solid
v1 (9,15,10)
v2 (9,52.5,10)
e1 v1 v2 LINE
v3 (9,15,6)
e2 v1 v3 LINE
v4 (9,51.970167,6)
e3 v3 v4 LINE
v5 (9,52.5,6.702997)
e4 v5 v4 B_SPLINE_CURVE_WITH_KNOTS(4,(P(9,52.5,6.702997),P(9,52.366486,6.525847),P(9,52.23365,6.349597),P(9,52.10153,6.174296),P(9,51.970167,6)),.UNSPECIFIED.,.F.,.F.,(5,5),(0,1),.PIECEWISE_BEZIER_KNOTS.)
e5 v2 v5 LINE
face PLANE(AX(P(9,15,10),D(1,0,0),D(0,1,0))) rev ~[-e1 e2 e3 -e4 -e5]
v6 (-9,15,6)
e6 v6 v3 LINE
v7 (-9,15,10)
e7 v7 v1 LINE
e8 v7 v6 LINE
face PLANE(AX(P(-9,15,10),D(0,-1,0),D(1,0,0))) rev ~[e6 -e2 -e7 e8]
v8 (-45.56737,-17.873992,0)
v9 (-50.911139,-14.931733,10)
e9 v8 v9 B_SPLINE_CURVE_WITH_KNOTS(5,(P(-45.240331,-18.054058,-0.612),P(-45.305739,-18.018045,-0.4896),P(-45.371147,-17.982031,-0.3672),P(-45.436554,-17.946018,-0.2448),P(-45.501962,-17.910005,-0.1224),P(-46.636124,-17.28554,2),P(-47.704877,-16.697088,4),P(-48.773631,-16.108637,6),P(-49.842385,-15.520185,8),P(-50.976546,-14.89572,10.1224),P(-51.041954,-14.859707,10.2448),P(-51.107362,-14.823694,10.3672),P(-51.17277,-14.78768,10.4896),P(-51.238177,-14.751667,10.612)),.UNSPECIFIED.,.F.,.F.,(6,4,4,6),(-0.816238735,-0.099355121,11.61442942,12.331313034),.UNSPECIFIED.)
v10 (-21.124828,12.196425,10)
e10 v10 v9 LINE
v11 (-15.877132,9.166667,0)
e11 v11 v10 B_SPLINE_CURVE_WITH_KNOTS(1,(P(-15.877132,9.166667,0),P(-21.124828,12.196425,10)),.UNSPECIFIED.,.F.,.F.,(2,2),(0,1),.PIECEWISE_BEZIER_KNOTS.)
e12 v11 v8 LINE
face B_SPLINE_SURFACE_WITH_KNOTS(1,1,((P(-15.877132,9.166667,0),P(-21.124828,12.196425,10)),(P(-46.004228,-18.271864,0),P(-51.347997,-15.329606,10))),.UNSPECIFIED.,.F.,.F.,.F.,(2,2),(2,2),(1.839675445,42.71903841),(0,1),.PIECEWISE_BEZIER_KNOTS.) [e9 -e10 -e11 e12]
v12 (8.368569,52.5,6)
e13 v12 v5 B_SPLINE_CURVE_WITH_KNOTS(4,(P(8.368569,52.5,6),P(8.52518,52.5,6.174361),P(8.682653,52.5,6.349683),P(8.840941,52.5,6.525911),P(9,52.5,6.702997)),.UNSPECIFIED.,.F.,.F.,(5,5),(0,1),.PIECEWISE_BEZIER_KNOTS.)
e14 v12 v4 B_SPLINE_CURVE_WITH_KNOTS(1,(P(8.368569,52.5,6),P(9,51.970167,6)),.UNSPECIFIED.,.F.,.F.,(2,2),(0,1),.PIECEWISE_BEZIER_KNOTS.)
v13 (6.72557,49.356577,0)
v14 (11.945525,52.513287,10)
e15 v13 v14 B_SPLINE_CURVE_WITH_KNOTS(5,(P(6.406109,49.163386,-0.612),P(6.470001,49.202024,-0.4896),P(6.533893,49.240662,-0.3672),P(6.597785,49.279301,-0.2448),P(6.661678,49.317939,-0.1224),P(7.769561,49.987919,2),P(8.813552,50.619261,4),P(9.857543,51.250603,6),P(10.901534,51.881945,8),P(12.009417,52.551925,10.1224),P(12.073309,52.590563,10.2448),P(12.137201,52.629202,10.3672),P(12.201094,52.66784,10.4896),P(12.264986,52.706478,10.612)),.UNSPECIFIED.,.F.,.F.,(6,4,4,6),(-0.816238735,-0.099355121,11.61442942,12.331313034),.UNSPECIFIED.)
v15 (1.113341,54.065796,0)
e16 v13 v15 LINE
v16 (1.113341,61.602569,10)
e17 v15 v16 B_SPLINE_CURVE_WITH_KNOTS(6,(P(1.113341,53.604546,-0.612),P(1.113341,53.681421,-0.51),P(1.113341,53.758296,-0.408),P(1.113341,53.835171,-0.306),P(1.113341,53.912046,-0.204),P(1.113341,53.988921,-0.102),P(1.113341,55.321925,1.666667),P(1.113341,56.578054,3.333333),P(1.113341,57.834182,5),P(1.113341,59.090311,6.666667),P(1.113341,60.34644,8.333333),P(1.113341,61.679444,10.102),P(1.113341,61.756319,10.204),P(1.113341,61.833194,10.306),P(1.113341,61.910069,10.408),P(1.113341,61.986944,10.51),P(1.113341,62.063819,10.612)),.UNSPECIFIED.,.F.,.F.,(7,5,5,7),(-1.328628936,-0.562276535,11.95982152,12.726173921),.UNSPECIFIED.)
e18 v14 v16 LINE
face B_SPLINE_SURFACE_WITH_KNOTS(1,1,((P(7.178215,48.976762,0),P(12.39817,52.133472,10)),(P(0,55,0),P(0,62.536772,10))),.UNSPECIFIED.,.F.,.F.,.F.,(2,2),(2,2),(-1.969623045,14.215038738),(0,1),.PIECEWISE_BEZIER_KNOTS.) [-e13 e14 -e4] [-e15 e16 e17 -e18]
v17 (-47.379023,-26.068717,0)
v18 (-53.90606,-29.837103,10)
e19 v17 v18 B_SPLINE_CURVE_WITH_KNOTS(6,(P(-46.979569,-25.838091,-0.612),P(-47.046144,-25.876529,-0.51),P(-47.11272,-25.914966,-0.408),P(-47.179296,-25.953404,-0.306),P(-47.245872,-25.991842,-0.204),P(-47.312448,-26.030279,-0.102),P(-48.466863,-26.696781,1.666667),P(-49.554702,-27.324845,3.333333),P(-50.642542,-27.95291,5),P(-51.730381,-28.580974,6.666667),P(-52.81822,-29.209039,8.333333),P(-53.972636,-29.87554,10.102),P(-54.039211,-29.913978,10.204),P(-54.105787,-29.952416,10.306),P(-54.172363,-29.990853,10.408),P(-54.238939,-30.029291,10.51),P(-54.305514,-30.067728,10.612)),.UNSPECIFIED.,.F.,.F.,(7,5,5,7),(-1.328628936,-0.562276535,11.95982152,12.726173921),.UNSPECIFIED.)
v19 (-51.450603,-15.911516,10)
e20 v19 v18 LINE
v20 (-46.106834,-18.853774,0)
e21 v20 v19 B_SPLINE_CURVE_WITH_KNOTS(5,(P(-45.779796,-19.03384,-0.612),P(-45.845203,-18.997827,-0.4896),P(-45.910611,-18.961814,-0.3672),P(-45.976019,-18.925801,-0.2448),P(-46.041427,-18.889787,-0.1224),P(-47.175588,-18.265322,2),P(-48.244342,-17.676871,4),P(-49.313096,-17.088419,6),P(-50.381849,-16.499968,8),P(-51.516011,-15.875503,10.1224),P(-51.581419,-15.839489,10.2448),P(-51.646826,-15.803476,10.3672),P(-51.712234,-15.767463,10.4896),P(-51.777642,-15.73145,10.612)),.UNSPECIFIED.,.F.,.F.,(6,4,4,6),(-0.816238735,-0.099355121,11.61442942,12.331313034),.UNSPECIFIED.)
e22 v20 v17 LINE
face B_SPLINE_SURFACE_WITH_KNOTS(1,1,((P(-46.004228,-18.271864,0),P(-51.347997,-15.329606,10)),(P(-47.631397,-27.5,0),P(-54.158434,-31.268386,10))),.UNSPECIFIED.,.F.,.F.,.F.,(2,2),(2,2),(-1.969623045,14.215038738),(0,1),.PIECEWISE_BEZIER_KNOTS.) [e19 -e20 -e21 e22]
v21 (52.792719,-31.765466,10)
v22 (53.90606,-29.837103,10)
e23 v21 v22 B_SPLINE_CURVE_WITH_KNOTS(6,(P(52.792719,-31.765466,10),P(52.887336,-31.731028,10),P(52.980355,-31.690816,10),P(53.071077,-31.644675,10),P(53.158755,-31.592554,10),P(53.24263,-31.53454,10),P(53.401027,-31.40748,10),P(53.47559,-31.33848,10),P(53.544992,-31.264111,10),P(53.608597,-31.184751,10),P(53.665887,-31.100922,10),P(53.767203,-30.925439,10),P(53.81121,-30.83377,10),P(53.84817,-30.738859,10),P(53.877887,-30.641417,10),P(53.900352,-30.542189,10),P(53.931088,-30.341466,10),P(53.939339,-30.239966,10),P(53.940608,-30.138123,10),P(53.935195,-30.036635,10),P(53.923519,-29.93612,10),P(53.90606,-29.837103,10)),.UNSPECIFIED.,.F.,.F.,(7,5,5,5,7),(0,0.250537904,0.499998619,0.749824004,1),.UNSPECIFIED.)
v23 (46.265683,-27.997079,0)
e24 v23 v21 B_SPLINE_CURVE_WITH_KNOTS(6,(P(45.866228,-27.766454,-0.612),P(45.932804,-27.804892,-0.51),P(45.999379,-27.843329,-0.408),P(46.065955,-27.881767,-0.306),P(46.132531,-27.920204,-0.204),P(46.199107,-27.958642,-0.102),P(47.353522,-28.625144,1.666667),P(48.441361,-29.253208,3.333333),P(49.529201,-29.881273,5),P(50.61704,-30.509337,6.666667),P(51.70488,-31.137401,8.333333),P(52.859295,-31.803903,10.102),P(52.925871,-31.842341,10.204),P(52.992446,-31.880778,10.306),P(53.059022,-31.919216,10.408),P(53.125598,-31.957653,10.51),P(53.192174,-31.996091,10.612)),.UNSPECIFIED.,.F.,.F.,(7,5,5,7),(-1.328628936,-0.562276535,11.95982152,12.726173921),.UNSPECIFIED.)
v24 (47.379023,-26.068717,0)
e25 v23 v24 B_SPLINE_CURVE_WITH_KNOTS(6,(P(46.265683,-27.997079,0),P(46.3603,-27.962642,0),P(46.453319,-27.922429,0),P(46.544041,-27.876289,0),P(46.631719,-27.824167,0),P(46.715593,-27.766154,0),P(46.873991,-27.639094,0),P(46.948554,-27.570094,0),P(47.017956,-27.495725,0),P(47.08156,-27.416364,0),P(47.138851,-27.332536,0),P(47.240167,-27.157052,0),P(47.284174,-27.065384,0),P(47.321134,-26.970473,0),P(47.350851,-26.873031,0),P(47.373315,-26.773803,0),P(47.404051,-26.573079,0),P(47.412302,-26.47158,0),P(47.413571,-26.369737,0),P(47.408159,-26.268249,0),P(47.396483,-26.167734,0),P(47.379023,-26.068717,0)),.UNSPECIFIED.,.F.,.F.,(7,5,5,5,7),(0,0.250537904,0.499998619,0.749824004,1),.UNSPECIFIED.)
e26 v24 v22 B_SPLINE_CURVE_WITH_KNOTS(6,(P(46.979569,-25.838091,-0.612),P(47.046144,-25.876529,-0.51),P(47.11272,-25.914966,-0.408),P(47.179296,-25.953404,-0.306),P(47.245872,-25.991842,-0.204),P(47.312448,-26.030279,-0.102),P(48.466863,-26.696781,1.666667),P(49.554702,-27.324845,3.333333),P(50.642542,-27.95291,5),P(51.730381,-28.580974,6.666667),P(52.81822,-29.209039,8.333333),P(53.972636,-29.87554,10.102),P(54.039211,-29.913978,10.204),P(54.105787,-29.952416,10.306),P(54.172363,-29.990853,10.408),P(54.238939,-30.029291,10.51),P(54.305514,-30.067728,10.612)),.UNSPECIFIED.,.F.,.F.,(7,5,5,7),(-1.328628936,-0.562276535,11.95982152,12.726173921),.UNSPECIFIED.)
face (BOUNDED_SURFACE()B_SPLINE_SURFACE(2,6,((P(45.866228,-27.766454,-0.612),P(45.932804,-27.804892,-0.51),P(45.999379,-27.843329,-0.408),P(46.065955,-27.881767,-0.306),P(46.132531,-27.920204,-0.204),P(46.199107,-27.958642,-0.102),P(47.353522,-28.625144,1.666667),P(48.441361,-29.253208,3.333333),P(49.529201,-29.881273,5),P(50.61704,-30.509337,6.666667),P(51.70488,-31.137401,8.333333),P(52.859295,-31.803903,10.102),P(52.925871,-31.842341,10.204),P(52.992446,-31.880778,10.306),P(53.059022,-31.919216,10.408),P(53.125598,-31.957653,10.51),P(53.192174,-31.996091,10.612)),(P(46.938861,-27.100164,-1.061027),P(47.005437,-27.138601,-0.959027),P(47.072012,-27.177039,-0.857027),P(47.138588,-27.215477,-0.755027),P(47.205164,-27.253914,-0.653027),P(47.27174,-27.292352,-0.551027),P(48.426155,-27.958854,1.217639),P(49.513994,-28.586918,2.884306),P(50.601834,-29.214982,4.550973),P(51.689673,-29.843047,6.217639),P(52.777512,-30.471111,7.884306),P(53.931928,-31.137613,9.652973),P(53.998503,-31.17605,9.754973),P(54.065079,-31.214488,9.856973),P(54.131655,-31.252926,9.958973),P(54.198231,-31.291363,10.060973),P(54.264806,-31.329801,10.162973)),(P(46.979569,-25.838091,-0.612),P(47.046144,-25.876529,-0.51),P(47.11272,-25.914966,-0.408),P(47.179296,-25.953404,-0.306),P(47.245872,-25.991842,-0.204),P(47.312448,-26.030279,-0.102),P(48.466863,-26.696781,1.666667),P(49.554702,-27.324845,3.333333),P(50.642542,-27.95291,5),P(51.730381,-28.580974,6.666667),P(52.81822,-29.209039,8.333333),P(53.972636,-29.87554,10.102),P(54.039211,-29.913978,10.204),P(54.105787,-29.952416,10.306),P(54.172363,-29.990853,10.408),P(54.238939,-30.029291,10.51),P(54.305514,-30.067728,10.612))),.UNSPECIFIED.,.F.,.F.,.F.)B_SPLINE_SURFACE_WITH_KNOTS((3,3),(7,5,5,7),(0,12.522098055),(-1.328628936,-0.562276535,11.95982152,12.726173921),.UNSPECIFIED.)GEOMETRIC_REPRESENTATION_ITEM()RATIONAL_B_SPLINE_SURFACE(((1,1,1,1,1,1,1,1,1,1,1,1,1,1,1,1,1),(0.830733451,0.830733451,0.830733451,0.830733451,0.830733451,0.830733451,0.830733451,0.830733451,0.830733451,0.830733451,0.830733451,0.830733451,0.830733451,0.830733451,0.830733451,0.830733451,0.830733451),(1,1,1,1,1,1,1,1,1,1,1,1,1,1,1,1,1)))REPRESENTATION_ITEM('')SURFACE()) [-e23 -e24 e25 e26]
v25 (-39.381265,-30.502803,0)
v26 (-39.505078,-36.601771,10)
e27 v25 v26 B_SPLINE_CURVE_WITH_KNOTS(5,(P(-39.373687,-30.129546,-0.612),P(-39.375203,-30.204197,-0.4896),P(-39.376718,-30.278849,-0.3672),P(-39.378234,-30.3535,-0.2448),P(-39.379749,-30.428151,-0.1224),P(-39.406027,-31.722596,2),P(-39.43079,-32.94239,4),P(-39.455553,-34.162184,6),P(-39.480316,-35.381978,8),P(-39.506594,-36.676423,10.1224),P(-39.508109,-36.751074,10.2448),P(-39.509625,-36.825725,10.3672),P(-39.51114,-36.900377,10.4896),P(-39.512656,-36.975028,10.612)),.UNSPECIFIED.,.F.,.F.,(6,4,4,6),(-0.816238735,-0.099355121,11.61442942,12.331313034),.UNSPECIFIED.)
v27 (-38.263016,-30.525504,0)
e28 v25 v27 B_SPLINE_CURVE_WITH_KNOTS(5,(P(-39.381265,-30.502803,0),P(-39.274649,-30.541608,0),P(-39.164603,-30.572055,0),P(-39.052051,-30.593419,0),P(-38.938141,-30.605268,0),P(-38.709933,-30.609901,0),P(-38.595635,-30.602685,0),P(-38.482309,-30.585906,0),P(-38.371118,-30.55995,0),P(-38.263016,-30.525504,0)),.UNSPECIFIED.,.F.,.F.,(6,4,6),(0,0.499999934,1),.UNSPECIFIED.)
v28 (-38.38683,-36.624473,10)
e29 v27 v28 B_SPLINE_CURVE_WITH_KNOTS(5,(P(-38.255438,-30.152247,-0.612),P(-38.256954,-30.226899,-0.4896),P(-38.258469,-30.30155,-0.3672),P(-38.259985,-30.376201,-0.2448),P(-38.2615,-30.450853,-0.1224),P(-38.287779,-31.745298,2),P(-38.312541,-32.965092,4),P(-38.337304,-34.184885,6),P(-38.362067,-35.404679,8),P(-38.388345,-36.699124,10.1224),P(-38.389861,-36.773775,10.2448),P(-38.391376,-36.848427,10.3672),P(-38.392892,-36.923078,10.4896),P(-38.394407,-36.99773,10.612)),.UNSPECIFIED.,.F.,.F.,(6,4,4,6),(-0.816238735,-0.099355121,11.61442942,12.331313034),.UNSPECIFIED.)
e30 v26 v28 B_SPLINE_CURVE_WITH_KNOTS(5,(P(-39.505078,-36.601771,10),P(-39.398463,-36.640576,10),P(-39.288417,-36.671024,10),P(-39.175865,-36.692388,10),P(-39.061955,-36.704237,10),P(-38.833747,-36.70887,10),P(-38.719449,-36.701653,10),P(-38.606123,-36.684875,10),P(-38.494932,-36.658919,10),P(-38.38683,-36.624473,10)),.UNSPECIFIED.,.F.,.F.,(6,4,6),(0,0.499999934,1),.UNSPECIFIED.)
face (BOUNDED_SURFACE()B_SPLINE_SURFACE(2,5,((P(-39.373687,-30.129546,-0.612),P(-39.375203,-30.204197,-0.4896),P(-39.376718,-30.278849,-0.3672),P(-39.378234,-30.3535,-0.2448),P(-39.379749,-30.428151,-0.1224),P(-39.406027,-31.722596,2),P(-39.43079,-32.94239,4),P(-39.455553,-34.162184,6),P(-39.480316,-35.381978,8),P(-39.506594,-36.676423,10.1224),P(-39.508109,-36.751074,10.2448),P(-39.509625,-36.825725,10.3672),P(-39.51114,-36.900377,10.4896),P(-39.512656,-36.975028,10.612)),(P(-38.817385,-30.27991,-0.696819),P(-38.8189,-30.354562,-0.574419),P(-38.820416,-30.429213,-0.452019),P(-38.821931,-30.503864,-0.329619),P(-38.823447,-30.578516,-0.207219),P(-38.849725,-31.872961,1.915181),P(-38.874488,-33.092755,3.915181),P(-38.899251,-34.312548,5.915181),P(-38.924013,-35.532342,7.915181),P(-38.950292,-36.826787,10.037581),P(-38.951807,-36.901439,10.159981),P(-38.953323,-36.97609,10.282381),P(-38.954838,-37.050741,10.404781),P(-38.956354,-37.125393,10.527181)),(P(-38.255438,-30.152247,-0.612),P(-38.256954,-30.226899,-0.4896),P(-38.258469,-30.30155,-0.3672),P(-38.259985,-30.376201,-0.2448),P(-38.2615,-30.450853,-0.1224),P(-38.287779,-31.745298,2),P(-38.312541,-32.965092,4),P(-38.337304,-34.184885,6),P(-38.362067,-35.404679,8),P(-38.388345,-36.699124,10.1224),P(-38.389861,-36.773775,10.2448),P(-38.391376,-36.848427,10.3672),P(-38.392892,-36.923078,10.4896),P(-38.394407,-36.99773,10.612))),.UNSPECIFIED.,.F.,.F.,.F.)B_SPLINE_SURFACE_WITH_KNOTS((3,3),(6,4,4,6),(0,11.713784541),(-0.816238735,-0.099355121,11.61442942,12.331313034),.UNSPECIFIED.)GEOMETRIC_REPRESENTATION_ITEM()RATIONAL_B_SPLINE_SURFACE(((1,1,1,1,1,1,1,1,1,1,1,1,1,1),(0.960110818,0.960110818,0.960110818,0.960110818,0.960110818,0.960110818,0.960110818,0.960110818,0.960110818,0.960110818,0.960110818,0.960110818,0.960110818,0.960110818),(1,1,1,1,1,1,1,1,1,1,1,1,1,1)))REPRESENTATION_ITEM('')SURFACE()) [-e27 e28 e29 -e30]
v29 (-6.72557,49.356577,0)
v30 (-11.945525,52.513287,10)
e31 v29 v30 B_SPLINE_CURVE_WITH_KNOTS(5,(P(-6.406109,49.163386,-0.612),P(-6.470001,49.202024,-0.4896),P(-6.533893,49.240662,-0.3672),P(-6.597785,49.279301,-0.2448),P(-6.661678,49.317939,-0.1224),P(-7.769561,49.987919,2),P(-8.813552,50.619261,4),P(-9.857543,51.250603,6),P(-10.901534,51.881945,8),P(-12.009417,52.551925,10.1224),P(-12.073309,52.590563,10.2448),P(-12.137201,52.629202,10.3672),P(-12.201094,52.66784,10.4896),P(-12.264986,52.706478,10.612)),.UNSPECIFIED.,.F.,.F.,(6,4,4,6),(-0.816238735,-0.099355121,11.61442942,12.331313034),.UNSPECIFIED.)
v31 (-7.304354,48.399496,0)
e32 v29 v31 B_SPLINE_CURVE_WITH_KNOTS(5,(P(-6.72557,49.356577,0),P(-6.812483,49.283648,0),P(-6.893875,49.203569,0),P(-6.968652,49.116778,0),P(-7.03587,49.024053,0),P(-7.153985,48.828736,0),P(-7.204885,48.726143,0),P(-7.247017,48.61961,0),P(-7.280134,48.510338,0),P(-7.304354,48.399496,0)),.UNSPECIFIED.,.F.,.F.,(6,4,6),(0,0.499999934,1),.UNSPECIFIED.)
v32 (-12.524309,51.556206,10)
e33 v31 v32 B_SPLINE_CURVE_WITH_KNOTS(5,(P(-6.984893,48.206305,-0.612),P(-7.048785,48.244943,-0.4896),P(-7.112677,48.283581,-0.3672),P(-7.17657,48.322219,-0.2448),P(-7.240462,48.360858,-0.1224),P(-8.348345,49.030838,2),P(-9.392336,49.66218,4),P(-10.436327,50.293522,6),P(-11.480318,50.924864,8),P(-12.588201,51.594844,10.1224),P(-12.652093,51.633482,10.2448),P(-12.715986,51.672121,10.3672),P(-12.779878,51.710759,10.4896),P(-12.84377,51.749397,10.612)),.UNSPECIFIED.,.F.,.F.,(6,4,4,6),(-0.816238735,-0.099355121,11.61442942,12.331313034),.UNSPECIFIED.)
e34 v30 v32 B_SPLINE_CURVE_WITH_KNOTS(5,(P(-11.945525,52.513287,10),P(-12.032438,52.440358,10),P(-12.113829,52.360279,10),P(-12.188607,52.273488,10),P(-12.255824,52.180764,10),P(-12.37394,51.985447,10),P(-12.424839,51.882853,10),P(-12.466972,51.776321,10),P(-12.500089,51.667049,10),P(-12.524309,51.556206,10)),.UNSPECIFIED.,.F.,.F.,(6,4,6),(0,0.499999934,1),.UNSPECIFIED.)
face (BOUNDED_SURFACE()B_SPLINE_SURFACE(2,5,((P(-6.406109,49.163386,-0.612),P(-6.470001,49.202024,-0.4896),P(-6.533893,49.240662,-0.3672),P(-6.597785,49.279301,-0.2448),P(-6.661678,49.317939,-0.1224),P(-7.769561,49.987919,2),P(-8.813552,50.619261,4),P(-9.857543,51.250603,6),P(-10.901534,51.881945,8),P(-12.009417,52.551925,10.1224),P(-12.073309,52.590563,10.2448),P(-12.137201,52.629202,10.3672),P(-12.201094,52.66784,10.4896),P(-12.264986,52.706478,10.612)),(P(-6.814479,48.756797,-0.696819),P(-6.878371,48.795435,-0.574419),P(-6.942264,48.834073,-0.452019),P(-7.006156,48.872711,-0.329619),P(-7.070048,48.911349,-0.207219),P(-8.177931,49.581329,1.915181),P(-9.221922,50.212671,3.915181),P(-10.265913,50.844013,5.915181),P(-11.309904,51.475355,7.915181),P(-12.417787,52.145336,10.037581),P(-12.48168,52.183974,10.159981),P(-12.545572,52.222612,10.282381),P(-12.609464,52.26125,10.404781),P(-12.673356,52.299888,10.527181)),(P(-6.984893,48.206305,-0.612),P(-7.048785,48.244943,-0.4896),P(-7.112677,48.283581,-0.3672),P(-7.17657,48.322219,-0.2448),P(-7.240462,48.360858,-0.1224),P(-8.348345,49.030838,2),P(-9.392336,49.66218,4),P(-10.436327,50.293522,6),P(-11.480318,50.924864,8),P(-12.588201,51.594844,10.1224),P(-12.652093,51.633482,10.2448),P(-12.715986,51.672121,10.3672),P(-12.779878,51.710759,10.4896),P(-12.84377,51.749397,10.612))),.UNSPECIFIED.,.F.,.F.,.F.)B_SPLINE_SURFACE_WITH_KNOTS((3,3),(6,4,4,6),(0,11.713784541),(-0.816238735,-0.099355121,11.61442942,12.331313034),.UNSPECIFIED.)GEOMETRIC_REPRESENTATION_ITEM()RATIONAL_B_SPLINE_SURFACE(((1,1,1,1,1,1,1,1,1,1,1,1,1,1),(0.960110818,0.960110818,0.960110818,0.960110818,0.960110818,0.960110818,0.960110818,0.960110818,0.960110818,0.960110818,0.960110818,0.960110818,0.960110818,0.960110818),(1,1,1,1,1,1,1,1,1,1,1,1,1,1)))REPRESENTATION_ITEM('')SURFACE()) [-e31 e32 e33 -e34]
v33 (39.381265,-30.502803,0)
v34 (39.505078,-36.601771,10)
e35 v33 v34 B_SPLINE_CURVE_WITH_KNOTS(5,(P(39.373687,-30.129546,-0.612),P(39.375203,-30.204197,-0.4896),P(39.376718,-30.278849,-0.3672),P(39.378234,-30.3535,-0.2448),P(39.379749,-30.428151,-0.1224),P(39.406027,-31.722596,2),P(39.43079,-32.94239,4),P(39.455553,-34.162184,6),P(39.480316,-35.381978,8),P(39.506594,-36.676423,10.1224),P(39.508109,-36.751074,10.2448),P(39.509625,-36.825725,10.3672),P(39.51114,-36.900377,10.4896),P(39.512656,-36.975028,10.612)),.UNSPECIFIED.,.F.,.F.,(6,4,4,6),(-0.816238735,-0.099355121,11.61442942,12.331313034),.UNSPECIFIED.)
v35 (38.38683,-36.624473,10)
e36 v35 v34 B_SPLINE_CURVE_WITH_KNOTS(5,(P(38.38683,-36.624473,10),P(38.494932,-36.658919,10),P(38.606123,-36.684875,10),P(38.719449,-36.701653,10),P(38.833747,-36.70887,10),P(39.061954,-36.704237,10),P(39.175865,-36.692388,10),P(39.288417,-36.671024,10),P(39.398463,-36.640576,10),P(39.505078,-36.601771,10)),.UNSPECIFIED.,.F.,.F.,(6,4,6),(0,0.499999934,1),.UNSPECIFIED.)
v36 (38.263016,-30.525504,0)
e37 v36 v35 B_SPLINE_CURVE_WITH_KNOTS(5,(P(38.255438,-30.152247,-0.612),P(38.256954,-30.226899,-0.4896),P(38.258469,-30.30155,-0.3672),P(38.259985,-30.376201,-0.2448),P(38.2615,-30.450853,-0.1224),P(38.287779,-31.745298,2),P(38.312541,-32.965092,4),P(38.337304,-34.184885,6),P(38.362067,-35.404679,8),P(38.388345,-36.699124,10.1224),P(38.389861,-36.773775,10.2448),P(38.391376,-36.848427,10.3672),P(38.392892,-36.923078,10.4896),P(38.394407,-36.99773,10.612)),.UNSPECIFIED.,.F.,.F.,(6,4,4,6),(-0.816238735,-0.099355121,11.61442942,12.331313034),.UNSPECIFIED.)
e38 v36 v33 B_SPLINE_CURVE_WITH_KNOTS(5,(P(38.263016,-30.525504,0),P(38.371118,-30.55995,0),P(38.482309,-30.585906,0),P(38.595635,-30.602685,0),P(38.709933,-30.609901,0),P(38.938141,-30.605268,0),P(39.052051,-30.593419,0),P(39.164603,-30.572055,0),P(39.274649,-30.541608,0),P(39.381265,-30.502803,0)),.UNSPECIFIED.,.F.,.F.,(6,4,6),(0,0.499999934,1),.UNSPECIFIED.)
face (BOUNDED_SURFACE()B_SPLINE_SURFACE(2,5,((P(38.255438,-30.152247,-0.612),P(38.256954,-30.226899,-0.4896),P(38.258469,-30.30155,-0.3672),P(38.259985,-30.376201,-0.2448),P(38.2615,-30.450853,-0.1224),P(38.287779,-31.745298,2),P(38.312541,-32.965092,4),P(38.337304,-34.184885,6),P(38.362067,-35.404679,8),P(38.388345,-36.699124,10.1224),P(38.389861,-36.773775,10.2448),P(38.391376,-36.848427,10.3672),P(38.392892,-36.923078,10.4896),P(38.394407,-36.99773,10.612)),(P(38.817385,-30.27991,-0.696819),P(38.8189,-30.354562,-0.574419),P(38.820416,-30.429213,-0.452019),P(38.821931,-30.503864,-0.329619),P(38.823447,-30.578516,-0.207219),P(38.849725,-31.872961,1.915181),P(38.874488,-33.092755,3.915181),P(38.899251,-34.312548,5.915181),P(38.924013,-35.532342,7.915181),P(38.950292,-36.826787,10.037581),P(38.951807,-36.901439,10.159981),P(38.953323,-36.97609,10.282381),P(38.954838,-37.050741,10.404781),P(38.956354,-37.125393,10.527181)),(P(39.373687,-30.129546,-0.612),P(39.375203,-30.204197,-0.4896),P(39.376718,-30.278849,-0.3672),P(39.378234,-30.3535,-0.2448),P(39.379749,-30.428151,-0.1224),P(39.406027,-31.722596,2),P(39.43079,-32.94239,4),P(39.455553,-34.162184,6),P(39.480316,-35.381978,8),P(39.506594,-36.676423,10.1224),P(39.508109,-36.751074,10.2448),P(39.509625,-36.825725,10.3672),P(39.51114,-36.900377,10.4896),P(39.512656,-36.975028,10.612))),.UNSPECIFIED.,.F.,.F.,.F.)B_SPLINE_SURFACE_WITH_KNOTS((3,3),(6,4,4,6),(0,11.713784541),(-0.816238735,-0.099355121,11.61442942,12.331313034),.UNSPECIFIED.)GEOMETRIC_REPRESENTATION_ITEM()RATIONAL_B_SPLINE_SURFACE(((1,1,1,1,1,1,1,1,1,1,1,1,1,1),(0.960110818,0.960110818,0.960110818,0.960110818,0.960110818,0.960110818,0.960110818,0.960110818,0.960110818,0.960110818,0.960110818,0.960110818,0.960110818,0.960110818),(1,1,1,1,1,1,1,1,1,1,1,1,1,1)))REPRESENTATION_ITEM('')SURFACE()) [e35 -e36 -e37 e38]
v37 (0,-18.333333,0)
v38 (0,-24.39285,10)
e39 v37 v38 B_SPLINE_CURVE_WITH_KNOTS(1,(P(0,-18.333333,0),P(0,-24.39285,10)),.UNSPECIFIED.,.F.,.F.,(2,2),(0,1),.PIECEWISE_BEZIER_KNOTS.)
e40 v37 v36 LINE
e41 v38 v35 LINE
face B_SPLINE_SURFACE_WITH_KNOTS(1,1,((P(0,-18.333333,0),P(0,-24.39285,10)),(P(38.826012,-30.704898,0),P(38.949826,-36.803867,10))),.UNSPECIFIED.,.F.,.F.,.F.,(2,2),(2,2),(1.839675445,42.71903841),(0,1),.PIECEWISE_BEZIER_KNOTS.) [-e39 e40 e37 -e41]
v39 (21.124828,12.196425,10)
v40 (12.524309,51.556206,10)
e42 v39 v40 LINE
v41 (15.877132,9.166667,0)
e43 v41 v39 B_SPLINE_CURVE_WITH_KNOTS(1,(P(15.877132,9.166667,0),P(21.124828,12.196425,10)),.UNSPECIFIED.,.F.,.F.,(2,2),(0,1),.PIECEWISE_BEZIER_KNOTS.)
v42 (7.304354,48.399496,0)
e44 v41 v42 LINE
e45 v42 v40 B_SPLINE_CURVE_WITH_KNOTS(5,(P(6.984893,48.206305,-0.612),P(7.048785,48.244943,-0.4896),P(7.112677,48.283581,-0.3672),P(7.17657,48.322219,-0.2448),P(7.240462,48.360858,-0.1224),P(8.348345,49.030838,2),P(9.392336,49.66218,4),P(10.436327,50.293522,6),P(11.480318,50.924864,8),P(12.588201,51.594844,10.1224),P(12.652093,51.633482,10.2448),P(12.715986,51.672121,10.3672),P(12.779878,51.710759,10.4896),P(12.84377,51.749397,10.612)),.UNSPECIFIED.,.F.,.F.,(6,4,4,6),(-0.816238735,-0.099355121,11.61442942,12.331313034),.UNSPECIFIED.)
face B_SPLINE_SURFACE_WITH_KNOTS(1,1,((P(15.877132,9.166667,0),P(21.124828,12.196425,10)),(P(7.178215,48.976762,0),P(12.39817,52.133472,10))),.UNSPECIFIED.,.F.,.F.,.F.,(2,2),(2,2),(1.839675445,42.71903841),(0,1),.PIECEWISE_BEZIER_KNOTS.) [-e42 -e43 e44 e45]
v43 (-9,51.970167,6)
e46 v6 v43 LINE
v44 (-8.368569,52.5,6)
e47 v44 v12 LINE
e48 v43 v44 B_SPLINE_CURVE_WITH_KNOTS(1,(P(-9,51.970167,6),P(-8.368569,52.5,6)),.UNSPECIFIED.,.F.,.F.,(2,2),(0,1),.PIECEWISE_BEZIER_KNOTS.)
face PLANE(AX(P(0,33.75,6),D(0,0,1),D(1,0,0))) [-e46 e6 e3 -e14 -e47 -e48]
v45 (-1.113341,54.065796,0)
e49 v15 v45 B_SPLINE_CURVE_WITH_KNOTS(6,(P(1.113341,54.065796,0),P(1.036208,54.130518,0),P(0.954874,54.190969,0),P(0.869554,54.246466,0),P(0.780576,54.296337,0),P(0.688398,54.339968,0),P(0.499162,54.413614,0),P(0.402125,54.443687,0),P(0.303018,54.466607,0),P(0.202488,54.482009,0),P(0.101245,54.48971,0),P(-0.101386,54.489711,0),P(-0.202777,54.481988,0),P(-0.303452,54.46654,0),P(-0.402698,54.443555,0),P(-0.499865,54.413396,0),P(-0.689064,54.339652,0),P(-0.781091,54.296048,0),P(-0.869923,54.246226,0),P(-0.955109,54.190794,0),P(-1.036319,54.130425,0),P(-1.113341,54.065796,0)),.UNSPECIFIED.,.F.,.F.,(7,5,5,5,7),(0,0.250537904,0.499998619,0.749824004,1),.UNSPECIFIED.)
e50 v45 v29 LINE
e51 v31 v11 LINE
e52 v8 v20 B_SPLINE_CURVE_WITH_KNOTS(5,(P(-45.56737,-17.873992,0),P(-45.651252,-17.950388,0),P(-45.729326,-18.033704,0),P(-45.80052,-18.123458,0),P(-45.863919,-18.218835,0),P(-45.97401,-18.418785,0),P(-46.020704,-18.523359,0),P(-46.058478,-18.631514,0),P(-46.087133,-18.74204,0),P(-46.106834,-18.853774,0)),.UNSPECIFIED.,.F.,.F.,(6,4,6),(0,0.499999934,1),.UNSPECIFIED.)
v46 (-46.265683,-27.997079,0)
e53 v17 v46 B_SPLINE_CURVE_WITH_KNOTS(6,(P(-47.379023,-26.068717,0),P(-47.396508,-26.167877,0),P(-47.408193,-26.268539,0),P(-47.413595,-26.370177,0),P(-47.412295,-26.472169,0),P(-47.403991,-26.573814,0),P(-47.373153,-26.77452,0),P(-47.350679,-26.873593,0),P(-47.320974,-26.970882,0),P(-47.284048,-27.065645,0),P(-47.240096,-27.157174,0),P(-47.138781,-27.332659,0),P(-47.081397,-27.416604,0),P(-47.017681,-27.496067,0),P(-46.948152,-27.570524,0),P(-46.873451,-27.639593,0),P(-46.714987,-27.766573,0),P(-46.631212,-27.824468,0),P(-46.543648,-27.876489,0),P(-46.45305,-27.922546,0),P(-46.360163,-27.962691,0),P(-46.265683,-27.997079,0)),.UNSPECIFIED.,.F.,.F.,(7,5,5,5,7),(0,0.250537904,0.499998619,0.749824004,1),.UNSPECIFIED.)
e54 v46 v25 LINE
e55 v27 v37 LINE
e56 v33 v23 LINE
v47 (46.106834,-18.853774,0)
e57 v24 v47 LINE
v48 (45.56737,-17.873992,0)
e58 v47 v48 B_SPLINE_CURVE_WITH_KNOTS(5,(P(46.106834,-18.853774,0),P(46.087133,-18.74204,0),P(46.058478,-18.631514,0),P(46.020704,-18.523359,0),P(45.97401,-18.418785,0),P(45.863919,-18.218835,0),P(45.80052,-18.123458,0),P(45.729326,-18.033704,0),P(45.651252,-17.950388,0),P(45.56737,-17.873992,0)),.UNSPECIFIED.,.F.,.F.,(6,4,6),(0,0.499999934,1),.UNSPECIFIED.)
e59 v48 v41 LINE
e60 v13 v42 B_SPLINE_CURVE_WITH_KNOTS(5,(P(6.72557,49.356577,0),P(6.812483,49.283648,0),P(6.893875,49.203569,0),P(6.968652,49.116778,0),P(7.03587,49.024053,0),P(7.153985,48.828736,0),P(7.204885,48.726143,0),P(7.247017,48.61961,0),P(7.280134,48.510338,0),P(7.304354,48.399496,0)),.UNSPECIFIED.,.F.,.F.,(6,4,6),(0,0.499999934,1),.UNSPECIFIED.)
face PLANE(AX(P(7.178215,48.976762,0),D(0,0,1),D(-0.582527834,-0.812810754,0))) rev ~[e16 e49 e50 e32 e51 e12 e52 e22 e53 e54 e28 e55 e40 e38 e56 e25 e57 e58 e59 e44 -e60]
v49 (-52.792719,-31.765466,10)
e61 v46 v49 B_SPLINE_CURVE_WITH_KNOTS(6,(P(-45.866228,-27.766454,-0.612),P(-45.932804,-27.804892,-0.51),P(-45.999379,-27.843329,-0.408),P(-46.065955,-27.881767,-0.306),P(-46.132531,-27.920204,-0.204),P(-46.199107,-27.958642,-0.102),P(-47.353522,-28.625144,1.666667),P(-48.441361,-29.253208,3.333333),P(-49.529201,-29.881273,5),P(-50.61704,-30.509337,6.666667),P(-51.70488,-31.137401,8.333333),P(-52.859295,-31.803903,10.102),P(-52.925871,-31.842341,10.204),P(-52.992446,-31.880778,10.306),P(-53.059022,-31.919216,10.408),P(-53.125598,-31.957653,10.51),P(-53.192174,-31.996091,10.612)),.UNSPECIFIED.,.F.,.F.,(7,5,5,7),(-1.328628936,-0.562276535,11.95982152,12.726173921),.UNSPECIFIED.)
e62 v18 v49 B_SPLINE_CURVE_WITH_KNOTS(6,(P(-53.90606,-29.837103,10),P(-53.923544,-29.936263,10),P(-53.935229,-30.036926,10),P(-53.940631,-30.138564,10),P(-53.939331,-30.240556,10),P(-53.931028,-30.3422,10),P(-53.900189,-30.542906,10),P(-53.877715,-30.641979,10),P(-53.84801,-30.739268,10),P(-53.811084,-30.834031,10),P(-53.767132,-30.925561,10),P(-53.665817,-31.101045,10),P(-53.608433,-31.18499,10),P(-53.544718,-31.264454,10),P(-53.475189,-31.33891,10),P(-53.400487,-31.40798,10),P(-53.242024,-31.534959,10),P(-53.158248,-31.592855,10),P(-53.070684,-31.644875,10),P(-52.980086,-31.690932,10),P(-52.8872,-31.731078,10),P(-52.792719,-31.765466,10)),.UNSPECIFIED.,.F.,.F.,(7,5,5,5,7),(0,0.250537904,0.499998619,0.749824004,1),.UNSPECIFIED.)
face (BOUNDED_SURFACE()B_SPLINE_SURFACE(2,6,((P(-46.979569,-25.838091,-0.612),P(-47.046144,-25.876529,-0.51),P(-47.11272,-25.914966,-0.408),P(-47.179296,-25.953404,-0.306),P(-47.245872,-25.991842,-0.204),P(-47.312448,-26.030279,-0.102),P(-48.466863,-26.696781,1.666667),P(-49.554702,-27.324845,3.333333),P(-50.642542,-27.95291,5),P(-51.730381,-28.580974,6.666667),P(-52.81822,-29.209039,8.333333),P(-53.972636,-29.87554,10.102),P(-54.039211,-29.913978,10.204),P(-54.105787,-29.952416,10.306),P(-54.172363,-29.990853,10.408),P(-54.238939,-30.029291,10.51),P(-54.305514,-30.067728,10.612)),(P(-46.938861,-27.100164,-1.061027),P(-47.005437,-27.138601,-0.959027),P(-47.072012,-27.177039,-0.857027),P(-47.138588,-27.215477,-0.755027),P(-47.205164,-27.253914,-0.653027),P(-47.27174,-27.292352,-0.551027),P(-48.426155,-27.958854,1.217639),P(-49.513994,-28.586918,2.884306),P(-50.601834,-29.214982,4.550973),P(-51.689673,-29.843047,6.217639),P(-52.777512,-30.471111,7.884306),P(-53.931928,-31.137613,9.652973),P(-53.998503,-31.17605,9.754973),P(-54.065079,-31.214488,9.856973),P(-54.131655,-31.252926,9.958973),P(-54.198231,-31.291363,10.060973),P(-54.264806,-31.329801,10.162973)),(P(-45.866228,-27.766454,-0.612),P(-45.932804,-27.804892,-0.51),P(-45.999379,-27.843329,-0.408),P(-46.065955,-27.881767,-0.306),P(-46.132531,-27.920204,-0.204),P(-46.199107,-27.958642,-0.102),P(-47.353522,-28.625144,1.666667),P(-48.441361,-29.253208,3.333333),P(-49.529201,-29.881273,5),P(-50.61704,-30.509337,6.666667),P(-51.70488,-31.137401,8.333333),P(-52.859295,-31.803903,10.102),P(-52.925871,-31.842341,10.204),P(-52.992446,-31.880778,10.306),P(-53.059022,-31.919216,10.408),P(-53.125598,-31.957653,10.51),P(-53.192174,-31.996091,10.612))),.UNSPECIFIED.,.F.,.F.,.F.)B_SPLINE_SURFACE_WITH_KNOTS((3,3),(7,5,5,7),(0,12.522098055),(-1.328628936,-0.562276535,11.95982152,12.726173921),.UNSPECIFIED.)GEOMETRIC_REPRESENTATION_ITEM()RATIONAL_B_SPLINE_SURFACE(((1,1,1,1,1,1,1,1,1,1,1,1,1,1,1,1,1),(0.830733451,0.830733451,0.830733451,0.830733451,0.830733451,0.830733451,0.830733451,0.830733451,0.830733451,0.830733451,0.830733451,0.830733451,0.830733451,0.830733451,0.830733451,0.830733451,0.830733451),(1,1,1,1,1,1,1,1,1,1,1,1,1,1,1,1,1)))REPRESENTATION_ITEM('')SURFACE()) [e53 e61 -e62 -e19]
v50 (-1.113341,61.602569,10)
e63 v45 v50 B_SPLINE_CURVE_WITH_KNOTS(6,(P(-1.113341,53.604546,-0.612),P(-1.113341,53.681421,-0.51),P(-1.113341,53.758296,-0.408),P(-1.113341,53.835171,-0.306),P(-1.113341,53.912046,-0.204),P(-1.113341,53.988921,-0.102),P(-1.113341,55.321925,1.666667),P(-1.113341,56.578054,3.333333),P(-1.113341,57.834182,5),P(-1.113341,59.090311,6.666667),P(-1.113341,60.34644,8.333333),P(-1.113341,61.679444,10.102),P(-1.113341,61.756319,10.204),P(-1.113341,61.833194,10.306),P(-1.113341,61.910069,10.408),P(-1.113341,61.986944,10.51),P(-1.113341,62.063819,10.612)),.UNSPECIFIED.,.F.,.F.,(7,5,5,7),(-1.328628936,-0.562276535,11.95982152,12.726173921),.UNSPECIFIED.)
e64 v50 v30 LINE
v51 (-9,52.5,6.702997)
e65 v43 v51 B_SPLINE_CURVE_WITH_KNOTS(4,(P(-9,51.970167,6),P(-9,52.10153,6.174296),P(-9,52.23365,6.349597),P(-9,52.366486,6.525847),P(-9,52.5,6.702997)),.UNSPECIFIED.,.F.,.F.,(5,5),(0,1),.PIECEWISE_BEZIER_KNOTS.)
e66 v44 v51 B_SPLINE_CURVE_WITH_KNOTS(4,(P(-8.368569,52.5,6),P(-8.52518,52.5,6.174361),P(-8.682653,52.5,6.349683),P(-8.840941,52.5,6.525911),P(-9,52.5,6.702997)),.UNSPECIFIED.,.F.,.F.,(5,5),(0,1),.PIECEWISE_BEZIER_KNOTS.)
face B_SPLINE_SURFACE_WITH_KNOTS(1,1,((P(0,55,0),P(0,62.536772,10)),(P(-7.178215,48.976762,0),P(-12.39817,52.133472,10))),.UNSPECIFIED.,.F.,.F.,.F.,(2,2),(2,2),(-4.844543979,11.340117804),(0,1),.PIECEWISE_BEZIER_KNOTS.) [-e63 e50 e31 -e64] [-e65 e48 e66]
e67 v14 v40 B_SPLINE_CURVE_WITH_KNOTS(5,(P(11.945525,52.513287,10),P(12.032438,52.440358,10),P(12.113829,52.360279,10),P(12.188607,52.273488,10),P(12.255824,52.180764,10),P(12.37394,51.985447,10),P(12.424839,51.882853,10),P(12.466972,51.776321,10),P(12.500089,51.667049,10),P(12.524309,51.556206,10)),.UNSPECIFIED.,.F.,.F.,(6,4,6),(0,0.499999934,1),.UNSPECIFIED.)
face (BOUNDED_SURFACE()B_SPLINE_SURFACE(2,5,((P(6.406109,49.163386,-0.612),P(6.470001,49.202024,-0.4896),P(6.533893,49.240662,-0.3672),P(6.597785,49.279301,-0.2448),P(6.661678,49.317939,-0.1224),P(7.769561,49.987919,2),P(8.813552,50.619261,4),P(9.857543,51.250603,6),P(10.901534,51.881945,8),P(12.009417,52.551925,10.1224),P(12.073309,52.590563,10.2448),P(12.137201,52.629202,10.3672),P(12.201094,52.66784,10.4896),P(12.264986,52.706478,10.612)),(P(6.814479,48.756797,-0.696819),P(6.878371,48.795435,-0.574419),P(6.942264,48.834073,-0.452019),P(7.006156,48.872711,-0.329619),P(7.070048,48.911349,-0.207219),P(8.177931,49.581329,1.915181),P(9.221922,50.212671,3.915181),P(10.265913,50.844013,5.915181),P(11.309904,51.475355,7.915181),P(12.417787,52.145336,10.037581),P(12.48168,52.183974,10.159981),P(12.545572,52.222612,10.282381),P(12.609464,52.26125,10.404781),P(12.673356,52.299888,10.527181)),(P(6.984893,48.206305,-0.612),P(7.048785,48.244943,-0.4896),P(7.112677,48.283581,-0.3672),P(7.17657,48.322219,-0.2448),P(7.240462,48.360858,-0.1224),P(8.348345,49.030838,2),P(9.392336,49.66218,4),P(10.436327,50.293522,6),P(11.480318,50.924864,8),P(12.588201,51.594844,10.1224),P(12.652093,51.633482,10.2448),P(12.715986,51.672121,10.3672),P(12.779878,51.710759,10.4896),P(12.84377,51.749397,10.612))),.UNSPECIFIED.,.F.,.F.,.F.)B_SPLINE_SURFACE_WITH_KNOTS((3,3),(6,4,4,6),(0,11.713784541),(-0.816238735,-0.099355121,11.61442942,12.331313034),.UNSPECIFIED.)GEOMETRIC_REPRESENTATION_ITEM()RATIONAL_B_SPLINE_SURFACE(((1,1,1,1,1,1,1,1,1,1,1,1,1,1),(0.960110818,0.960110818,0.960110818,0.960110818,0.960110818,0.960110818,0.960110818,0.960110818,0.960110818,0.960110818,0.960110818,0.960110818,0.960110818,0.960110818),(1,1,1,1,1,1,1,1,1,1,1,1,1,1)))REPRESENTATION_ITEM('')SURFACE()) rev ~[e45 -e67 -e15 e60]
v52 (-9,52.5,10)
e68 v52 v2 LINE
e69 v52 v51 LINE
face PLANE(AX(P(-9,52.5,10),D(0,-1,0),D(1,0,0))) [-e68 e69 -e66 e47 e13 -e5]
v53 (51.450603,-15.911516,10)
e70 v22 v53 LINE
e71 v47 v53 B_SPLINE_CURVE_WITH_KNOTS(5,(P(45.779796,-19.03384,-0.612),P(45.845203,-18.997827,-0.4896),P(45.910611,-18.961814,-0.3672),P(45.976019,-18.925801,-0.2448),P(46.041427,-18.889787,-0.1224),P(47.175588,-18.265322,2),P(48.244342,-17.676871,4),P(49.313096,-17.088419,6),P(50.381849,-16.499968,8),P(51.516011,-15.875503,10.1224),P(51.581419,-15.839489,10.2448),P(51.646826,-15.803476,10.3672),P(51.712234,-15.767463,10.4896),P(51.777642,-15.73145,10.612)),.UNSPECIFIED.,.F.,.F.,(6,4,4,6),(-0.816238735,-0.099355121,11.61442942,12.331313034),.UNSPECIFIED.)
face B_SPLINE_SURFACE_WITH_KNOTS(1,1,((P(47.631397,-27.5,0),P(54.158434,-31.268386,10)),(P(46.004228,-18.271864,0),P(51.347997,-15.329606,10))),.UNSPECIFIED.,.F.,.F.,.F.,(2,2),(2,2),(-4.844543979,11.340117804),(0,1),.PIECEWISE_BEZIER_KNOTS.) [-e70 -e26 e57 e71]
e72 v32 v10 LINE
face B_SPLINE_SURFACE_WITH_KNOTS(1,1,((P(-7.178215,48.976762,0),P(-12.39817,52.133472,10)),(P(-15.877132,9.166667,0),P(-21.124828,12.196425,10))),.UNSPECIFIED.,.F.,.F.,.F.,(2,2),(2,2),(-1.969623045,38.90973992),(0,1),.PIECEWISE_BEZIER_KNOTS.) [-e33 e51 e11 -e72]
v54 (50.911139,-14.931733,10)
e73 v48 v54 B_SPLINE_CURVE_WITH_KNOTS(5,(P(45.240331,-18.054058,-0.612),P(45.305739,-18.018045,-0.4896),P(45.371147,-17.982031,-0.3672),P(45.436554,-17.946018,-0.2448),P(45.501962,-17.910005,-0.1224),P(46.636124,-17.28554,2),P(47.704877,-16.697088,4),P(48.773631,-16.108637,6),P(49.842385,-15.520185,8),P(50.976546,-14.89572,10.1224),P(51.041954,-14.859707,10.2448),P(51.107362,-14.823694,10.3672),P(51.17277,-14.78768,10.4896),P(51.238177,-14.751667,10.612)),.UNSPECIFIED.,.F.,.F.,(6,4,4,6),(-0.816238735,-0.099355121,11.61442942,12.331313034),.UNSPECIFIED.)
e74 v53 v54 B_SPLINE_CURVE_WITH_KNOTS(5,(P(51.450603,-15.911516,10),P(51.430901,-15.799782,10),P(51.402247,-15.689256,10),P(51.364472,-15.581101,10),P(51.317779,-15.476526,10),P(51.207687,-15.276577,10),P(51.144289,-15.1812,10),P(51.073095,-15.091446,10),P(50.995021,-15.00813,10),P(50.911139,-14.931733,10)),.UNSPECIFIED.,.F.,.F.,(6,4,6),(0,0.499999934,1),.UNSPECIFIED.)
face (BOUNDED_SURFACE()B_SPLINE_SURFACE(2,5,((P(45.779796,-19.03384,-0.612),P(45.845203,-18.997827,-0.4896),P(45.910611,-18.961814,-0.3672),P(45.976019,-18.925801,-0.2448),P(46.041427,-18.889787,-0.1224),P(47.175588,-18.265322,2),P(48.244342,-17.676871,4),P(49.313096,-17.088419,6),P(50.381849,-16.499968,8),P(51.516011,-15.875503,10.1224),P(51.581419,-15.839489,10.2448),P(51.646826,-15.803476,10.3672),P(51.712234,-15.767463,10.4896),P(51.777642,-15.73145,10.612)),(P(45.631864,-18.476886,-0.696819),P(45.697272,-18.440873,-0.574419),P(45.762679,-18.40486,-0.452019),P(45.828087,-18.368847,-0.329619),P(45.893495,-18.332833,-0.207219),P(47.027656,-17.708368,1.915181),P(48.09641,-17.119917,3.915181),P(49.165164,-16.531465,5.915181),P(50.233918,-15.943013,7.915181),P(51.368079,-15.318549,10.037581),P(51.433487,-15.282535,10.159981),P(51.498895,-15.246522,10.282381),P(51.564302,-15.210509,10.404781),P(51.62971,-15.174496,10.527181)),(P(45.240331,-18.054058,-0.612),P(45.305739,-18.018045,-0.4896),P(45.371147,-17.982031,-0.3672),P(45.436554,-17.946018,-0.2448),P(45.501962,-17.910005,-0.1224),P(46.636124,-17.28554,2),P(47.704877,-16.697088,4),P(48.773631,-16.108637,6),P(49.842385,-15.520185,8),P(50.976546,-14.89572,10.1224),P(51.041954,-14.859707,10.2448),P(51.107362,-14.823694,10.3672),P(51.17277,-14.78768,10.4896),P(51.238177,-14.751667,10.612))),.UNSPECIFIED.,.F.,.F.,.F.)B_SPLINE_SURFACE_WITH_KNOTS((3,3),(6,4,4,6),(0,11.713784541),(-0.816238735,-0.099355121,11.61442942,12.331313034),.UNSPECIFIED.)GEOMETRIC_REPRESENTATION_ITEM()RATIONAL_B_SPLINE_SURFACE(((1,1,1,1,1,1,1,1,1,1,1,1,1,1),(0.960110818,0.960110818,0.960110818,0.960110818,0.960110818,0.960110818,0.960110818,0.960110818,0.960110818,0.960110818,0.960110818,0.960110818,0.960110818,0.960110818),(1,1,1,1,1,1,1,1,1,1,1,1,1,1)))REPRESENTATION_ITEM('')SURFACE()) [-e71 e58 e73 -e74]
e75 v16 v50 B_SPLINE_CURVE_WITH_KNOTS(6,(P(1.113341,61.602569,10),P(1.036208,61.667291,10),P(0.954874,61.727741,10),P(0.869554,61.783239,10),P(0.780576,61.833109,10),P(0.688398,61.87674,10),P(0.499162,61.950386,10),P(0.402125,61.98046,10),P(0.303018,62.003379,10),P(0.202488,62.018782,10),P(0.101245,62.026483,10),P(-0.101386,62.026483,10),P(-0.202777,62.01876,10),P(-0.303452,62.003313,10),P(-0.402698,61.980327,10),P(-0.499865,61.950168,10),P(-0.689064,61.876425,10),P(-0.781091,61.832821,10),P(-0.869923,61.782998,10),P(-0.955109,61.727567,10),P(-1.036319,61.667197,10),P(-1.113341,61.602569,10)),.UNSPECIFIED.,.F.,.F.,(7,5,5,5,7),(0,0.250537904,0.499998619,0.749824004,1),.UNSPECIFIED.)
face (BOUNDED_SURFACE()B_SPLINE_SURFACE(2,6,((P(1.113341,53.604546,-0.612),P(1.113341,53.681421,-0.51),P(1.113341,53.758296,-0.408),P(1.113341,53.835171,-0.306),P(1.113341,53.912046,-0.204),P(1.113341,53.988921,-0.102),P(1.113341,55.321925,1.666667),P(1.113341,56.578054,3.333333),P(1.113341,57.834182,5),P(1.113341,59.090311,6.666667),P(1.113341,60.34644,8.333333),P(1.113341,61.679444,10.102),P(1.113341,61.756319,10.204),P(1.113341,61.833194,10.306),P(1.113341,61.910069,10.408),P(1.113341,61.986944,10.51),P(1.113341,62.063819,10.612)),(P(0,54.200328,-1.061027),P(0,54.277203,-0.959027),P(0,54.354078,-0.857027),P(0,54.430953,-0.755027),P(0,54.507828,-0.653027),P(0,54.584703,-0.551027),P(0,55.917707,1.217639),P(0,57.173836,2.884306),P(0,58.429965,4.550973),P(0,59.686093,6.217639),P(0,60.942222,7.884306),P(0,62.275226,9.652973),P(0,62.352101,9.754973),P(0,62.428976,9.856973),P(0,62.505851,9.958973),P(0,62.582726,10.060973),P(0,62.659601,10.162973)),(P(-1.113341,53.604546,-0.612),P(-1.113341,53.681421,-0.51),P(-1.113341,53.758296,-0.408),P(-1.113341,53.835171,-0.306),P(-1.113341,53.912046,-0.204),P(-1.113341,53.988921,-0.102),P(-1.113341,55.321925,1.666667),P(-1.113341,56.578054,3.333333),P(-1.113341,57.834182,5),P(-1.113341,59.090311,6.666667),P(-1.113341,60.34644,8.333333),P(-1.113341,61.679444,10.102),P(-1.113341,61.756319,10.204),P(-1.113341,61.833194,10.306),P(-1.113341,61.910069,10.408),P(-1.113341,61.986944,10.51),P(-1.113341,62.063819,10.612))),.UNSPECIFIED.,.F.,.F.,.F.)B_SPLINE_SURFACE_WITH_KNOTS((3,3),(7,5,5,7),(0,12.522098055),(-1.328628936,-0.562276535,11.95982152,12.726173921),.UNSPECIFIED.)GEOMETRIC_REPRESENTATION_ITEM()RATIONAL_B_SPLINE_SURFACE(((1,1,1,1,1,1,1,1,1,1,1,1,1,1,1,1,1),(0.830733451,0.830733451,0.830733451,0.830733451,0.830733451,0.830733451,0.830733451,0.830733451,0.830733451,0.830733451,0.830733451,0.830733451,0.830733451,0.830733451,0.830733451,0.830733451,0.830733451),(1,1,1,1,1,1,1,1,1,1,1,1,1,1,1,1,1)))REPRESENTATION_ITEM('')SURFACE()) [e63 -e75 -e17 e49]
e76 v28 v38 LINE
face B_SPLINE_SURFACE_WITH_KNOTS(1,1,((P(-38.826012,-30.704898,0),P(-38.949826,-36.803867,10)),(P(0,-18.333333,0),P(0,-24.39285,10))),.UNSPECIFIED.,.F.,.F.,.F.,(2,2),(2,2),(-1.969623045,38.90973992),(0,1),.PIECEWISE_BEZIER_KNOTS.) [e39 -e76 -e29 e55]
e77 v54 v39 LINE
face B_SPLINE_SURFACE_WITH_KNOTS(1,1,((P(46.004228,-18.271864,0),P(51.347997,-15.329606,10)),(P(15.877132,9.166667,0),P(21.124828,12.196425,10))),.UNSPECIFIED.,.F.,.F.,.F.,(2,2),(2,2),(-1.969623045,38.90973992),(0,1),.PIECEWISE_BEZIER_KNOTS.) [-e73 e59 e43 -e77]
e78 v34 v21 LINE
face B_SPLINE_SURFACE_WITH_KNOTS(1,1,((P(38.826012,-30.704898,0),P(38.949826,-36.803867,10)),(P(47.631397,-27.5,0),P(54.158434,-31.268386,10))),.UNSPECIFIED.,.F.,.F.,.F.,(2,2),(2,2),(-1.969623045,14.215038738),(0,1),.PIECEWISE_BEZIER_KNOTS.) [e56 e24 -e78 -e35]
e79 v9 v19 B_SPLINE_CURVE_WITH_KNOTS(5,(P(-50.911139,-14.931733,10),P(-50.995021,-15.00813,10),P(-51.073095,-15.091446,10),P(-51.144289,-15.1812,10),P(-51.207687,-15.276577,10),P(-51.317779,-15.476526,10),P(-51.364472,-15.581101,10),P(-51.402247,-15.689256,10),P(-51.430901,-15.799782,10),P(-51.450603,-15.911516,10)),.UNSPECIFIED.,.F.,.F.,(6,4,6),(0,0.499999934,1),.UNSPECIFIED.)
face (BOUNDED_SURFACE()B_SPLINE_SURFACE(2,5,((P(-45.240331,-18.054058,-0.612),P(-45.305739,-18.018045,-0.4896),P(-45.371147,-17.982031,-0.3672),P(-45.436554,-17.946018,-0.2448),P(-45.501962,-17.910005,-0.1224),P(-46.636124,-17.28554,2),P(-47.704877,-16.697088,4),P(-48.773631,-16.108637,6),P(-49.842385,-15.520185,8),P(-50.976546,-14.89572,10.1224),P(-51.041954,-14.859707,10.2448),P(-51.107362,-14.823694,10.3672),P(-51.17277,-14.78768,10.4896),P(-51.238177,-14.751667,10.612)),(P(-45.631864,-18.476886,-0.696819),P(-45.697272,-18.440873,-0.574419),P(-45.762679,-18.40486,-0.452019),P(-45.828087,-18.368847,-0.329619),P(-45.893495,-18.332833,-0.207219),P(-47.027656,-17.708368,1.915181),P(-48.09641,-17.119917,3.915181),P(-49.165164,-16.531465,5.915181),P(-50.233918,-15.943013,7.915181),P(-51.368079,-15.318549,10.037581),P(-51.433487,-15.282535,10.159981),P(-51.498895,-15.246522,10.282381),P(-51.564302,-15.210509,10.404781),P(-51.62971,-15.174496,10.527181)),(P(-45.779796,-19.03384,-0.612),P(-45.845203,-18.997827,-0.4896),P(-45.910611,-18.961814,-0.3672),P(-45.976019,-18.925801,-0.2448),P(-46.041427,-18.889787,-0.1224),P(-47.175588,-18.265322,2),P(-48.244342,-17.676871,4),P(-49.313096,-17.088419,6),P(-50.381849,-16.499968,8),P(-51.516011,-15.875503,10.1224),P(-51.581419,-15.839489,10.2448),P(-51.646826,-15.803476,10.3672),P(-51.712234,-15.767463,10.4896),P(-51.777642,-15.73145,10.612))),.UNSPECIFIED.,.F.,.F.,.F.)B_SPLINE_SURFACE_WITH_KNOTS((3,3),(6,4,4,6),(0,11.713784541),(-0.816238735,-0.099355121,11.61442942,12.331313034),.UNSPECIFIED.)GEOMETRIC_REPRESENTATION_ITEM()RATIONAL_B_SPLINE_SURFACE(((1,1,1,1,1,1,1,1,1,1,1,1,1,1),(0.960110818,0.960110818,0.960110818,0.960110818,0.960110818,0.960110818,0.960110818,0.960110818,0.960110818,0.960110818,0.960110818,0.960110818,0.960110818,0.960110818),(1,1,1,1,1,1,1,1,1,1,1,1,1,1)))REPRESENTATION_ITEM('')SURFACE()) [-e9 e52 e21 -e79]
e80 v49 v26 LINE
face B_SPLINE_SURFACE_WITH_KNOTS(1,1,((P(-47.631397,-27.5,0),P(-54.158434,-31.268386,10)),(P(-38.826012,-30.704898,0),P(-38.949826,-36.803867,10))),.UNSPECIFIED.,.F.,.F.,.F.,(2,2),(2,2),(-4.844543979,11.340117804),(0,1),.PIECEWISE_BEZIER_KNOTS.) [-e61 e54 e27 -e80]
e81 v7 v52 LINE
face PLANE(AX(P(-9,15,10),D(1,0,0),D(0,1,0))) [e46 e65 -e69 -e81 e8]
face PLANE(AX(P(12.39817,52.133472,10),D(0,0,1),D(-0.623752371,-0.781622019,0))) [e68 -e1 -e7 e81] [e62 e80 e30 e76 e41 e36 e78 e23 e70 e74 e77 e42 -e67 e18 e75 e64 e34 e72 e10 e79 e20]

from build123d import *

# Parameters (mm, degrees)
F0_R     = 10
F1_DEPTH = 10
F1_TAPER = -30
F2_R     = 2
F3_W     = 18
F3_H     = 37.5
F4_DEPTH = 4


with BuildPart() as f1:
    # F0 (on Top) → F1 (new body)
    with BuildSketch(Plane.XY):
        Polygon((7.1782154391, 48.9767620725), (0, 55), (-7.1782154391, 48.9767620725), (-15.8771324027, 9.1666666667), (-46.0042278695, -18.2718641122), (-47.6313972081, -27.5), (-38.8260124304, -30.7048979604), (0, -18.3333333333), (38.8260124304, -30.7048979604), (47.6313972081, -27.5), (46.0042278695, -18.2718641122), (15.8771324027, 9.1666666667), align=None)
        Circle(F0_R, mode=Mode.SUBTRACT)
        Circle(F0_R)
    extrude(amount=F1_DEPTH, taper=F1_TAPER)

    # F2
    f2_edges = [f1.edges().sort_by_distance(p)[0] for p in [
        (0, 58.768386, 5),
        (9.788193, 50.555117, 5),
        (-9.788193, 50.555117, 5),
        (48.676112, -16.800735, 5),
        (50.894915, -29.384193, 5),
        (38.887919, -33.754382, 5),
        (-48.676112, -16.800735, 5),
        (-50.894915, -29.384193, 5),
        (-38.887919, -33.754382, 5),
    ]]
    fillet(f2_edges, radius=F2_R)

    # F3 (on face) → F4 (cut)
    with BuildSketch(Plane.XY.offset(10)):
        with Locations((0, 33.75)):
            Rectangle(F3_W, F3_H)
    extrude(amount=-F4_DEPTH, mode=Mode.SUBTRACT)


solid = f1.part
